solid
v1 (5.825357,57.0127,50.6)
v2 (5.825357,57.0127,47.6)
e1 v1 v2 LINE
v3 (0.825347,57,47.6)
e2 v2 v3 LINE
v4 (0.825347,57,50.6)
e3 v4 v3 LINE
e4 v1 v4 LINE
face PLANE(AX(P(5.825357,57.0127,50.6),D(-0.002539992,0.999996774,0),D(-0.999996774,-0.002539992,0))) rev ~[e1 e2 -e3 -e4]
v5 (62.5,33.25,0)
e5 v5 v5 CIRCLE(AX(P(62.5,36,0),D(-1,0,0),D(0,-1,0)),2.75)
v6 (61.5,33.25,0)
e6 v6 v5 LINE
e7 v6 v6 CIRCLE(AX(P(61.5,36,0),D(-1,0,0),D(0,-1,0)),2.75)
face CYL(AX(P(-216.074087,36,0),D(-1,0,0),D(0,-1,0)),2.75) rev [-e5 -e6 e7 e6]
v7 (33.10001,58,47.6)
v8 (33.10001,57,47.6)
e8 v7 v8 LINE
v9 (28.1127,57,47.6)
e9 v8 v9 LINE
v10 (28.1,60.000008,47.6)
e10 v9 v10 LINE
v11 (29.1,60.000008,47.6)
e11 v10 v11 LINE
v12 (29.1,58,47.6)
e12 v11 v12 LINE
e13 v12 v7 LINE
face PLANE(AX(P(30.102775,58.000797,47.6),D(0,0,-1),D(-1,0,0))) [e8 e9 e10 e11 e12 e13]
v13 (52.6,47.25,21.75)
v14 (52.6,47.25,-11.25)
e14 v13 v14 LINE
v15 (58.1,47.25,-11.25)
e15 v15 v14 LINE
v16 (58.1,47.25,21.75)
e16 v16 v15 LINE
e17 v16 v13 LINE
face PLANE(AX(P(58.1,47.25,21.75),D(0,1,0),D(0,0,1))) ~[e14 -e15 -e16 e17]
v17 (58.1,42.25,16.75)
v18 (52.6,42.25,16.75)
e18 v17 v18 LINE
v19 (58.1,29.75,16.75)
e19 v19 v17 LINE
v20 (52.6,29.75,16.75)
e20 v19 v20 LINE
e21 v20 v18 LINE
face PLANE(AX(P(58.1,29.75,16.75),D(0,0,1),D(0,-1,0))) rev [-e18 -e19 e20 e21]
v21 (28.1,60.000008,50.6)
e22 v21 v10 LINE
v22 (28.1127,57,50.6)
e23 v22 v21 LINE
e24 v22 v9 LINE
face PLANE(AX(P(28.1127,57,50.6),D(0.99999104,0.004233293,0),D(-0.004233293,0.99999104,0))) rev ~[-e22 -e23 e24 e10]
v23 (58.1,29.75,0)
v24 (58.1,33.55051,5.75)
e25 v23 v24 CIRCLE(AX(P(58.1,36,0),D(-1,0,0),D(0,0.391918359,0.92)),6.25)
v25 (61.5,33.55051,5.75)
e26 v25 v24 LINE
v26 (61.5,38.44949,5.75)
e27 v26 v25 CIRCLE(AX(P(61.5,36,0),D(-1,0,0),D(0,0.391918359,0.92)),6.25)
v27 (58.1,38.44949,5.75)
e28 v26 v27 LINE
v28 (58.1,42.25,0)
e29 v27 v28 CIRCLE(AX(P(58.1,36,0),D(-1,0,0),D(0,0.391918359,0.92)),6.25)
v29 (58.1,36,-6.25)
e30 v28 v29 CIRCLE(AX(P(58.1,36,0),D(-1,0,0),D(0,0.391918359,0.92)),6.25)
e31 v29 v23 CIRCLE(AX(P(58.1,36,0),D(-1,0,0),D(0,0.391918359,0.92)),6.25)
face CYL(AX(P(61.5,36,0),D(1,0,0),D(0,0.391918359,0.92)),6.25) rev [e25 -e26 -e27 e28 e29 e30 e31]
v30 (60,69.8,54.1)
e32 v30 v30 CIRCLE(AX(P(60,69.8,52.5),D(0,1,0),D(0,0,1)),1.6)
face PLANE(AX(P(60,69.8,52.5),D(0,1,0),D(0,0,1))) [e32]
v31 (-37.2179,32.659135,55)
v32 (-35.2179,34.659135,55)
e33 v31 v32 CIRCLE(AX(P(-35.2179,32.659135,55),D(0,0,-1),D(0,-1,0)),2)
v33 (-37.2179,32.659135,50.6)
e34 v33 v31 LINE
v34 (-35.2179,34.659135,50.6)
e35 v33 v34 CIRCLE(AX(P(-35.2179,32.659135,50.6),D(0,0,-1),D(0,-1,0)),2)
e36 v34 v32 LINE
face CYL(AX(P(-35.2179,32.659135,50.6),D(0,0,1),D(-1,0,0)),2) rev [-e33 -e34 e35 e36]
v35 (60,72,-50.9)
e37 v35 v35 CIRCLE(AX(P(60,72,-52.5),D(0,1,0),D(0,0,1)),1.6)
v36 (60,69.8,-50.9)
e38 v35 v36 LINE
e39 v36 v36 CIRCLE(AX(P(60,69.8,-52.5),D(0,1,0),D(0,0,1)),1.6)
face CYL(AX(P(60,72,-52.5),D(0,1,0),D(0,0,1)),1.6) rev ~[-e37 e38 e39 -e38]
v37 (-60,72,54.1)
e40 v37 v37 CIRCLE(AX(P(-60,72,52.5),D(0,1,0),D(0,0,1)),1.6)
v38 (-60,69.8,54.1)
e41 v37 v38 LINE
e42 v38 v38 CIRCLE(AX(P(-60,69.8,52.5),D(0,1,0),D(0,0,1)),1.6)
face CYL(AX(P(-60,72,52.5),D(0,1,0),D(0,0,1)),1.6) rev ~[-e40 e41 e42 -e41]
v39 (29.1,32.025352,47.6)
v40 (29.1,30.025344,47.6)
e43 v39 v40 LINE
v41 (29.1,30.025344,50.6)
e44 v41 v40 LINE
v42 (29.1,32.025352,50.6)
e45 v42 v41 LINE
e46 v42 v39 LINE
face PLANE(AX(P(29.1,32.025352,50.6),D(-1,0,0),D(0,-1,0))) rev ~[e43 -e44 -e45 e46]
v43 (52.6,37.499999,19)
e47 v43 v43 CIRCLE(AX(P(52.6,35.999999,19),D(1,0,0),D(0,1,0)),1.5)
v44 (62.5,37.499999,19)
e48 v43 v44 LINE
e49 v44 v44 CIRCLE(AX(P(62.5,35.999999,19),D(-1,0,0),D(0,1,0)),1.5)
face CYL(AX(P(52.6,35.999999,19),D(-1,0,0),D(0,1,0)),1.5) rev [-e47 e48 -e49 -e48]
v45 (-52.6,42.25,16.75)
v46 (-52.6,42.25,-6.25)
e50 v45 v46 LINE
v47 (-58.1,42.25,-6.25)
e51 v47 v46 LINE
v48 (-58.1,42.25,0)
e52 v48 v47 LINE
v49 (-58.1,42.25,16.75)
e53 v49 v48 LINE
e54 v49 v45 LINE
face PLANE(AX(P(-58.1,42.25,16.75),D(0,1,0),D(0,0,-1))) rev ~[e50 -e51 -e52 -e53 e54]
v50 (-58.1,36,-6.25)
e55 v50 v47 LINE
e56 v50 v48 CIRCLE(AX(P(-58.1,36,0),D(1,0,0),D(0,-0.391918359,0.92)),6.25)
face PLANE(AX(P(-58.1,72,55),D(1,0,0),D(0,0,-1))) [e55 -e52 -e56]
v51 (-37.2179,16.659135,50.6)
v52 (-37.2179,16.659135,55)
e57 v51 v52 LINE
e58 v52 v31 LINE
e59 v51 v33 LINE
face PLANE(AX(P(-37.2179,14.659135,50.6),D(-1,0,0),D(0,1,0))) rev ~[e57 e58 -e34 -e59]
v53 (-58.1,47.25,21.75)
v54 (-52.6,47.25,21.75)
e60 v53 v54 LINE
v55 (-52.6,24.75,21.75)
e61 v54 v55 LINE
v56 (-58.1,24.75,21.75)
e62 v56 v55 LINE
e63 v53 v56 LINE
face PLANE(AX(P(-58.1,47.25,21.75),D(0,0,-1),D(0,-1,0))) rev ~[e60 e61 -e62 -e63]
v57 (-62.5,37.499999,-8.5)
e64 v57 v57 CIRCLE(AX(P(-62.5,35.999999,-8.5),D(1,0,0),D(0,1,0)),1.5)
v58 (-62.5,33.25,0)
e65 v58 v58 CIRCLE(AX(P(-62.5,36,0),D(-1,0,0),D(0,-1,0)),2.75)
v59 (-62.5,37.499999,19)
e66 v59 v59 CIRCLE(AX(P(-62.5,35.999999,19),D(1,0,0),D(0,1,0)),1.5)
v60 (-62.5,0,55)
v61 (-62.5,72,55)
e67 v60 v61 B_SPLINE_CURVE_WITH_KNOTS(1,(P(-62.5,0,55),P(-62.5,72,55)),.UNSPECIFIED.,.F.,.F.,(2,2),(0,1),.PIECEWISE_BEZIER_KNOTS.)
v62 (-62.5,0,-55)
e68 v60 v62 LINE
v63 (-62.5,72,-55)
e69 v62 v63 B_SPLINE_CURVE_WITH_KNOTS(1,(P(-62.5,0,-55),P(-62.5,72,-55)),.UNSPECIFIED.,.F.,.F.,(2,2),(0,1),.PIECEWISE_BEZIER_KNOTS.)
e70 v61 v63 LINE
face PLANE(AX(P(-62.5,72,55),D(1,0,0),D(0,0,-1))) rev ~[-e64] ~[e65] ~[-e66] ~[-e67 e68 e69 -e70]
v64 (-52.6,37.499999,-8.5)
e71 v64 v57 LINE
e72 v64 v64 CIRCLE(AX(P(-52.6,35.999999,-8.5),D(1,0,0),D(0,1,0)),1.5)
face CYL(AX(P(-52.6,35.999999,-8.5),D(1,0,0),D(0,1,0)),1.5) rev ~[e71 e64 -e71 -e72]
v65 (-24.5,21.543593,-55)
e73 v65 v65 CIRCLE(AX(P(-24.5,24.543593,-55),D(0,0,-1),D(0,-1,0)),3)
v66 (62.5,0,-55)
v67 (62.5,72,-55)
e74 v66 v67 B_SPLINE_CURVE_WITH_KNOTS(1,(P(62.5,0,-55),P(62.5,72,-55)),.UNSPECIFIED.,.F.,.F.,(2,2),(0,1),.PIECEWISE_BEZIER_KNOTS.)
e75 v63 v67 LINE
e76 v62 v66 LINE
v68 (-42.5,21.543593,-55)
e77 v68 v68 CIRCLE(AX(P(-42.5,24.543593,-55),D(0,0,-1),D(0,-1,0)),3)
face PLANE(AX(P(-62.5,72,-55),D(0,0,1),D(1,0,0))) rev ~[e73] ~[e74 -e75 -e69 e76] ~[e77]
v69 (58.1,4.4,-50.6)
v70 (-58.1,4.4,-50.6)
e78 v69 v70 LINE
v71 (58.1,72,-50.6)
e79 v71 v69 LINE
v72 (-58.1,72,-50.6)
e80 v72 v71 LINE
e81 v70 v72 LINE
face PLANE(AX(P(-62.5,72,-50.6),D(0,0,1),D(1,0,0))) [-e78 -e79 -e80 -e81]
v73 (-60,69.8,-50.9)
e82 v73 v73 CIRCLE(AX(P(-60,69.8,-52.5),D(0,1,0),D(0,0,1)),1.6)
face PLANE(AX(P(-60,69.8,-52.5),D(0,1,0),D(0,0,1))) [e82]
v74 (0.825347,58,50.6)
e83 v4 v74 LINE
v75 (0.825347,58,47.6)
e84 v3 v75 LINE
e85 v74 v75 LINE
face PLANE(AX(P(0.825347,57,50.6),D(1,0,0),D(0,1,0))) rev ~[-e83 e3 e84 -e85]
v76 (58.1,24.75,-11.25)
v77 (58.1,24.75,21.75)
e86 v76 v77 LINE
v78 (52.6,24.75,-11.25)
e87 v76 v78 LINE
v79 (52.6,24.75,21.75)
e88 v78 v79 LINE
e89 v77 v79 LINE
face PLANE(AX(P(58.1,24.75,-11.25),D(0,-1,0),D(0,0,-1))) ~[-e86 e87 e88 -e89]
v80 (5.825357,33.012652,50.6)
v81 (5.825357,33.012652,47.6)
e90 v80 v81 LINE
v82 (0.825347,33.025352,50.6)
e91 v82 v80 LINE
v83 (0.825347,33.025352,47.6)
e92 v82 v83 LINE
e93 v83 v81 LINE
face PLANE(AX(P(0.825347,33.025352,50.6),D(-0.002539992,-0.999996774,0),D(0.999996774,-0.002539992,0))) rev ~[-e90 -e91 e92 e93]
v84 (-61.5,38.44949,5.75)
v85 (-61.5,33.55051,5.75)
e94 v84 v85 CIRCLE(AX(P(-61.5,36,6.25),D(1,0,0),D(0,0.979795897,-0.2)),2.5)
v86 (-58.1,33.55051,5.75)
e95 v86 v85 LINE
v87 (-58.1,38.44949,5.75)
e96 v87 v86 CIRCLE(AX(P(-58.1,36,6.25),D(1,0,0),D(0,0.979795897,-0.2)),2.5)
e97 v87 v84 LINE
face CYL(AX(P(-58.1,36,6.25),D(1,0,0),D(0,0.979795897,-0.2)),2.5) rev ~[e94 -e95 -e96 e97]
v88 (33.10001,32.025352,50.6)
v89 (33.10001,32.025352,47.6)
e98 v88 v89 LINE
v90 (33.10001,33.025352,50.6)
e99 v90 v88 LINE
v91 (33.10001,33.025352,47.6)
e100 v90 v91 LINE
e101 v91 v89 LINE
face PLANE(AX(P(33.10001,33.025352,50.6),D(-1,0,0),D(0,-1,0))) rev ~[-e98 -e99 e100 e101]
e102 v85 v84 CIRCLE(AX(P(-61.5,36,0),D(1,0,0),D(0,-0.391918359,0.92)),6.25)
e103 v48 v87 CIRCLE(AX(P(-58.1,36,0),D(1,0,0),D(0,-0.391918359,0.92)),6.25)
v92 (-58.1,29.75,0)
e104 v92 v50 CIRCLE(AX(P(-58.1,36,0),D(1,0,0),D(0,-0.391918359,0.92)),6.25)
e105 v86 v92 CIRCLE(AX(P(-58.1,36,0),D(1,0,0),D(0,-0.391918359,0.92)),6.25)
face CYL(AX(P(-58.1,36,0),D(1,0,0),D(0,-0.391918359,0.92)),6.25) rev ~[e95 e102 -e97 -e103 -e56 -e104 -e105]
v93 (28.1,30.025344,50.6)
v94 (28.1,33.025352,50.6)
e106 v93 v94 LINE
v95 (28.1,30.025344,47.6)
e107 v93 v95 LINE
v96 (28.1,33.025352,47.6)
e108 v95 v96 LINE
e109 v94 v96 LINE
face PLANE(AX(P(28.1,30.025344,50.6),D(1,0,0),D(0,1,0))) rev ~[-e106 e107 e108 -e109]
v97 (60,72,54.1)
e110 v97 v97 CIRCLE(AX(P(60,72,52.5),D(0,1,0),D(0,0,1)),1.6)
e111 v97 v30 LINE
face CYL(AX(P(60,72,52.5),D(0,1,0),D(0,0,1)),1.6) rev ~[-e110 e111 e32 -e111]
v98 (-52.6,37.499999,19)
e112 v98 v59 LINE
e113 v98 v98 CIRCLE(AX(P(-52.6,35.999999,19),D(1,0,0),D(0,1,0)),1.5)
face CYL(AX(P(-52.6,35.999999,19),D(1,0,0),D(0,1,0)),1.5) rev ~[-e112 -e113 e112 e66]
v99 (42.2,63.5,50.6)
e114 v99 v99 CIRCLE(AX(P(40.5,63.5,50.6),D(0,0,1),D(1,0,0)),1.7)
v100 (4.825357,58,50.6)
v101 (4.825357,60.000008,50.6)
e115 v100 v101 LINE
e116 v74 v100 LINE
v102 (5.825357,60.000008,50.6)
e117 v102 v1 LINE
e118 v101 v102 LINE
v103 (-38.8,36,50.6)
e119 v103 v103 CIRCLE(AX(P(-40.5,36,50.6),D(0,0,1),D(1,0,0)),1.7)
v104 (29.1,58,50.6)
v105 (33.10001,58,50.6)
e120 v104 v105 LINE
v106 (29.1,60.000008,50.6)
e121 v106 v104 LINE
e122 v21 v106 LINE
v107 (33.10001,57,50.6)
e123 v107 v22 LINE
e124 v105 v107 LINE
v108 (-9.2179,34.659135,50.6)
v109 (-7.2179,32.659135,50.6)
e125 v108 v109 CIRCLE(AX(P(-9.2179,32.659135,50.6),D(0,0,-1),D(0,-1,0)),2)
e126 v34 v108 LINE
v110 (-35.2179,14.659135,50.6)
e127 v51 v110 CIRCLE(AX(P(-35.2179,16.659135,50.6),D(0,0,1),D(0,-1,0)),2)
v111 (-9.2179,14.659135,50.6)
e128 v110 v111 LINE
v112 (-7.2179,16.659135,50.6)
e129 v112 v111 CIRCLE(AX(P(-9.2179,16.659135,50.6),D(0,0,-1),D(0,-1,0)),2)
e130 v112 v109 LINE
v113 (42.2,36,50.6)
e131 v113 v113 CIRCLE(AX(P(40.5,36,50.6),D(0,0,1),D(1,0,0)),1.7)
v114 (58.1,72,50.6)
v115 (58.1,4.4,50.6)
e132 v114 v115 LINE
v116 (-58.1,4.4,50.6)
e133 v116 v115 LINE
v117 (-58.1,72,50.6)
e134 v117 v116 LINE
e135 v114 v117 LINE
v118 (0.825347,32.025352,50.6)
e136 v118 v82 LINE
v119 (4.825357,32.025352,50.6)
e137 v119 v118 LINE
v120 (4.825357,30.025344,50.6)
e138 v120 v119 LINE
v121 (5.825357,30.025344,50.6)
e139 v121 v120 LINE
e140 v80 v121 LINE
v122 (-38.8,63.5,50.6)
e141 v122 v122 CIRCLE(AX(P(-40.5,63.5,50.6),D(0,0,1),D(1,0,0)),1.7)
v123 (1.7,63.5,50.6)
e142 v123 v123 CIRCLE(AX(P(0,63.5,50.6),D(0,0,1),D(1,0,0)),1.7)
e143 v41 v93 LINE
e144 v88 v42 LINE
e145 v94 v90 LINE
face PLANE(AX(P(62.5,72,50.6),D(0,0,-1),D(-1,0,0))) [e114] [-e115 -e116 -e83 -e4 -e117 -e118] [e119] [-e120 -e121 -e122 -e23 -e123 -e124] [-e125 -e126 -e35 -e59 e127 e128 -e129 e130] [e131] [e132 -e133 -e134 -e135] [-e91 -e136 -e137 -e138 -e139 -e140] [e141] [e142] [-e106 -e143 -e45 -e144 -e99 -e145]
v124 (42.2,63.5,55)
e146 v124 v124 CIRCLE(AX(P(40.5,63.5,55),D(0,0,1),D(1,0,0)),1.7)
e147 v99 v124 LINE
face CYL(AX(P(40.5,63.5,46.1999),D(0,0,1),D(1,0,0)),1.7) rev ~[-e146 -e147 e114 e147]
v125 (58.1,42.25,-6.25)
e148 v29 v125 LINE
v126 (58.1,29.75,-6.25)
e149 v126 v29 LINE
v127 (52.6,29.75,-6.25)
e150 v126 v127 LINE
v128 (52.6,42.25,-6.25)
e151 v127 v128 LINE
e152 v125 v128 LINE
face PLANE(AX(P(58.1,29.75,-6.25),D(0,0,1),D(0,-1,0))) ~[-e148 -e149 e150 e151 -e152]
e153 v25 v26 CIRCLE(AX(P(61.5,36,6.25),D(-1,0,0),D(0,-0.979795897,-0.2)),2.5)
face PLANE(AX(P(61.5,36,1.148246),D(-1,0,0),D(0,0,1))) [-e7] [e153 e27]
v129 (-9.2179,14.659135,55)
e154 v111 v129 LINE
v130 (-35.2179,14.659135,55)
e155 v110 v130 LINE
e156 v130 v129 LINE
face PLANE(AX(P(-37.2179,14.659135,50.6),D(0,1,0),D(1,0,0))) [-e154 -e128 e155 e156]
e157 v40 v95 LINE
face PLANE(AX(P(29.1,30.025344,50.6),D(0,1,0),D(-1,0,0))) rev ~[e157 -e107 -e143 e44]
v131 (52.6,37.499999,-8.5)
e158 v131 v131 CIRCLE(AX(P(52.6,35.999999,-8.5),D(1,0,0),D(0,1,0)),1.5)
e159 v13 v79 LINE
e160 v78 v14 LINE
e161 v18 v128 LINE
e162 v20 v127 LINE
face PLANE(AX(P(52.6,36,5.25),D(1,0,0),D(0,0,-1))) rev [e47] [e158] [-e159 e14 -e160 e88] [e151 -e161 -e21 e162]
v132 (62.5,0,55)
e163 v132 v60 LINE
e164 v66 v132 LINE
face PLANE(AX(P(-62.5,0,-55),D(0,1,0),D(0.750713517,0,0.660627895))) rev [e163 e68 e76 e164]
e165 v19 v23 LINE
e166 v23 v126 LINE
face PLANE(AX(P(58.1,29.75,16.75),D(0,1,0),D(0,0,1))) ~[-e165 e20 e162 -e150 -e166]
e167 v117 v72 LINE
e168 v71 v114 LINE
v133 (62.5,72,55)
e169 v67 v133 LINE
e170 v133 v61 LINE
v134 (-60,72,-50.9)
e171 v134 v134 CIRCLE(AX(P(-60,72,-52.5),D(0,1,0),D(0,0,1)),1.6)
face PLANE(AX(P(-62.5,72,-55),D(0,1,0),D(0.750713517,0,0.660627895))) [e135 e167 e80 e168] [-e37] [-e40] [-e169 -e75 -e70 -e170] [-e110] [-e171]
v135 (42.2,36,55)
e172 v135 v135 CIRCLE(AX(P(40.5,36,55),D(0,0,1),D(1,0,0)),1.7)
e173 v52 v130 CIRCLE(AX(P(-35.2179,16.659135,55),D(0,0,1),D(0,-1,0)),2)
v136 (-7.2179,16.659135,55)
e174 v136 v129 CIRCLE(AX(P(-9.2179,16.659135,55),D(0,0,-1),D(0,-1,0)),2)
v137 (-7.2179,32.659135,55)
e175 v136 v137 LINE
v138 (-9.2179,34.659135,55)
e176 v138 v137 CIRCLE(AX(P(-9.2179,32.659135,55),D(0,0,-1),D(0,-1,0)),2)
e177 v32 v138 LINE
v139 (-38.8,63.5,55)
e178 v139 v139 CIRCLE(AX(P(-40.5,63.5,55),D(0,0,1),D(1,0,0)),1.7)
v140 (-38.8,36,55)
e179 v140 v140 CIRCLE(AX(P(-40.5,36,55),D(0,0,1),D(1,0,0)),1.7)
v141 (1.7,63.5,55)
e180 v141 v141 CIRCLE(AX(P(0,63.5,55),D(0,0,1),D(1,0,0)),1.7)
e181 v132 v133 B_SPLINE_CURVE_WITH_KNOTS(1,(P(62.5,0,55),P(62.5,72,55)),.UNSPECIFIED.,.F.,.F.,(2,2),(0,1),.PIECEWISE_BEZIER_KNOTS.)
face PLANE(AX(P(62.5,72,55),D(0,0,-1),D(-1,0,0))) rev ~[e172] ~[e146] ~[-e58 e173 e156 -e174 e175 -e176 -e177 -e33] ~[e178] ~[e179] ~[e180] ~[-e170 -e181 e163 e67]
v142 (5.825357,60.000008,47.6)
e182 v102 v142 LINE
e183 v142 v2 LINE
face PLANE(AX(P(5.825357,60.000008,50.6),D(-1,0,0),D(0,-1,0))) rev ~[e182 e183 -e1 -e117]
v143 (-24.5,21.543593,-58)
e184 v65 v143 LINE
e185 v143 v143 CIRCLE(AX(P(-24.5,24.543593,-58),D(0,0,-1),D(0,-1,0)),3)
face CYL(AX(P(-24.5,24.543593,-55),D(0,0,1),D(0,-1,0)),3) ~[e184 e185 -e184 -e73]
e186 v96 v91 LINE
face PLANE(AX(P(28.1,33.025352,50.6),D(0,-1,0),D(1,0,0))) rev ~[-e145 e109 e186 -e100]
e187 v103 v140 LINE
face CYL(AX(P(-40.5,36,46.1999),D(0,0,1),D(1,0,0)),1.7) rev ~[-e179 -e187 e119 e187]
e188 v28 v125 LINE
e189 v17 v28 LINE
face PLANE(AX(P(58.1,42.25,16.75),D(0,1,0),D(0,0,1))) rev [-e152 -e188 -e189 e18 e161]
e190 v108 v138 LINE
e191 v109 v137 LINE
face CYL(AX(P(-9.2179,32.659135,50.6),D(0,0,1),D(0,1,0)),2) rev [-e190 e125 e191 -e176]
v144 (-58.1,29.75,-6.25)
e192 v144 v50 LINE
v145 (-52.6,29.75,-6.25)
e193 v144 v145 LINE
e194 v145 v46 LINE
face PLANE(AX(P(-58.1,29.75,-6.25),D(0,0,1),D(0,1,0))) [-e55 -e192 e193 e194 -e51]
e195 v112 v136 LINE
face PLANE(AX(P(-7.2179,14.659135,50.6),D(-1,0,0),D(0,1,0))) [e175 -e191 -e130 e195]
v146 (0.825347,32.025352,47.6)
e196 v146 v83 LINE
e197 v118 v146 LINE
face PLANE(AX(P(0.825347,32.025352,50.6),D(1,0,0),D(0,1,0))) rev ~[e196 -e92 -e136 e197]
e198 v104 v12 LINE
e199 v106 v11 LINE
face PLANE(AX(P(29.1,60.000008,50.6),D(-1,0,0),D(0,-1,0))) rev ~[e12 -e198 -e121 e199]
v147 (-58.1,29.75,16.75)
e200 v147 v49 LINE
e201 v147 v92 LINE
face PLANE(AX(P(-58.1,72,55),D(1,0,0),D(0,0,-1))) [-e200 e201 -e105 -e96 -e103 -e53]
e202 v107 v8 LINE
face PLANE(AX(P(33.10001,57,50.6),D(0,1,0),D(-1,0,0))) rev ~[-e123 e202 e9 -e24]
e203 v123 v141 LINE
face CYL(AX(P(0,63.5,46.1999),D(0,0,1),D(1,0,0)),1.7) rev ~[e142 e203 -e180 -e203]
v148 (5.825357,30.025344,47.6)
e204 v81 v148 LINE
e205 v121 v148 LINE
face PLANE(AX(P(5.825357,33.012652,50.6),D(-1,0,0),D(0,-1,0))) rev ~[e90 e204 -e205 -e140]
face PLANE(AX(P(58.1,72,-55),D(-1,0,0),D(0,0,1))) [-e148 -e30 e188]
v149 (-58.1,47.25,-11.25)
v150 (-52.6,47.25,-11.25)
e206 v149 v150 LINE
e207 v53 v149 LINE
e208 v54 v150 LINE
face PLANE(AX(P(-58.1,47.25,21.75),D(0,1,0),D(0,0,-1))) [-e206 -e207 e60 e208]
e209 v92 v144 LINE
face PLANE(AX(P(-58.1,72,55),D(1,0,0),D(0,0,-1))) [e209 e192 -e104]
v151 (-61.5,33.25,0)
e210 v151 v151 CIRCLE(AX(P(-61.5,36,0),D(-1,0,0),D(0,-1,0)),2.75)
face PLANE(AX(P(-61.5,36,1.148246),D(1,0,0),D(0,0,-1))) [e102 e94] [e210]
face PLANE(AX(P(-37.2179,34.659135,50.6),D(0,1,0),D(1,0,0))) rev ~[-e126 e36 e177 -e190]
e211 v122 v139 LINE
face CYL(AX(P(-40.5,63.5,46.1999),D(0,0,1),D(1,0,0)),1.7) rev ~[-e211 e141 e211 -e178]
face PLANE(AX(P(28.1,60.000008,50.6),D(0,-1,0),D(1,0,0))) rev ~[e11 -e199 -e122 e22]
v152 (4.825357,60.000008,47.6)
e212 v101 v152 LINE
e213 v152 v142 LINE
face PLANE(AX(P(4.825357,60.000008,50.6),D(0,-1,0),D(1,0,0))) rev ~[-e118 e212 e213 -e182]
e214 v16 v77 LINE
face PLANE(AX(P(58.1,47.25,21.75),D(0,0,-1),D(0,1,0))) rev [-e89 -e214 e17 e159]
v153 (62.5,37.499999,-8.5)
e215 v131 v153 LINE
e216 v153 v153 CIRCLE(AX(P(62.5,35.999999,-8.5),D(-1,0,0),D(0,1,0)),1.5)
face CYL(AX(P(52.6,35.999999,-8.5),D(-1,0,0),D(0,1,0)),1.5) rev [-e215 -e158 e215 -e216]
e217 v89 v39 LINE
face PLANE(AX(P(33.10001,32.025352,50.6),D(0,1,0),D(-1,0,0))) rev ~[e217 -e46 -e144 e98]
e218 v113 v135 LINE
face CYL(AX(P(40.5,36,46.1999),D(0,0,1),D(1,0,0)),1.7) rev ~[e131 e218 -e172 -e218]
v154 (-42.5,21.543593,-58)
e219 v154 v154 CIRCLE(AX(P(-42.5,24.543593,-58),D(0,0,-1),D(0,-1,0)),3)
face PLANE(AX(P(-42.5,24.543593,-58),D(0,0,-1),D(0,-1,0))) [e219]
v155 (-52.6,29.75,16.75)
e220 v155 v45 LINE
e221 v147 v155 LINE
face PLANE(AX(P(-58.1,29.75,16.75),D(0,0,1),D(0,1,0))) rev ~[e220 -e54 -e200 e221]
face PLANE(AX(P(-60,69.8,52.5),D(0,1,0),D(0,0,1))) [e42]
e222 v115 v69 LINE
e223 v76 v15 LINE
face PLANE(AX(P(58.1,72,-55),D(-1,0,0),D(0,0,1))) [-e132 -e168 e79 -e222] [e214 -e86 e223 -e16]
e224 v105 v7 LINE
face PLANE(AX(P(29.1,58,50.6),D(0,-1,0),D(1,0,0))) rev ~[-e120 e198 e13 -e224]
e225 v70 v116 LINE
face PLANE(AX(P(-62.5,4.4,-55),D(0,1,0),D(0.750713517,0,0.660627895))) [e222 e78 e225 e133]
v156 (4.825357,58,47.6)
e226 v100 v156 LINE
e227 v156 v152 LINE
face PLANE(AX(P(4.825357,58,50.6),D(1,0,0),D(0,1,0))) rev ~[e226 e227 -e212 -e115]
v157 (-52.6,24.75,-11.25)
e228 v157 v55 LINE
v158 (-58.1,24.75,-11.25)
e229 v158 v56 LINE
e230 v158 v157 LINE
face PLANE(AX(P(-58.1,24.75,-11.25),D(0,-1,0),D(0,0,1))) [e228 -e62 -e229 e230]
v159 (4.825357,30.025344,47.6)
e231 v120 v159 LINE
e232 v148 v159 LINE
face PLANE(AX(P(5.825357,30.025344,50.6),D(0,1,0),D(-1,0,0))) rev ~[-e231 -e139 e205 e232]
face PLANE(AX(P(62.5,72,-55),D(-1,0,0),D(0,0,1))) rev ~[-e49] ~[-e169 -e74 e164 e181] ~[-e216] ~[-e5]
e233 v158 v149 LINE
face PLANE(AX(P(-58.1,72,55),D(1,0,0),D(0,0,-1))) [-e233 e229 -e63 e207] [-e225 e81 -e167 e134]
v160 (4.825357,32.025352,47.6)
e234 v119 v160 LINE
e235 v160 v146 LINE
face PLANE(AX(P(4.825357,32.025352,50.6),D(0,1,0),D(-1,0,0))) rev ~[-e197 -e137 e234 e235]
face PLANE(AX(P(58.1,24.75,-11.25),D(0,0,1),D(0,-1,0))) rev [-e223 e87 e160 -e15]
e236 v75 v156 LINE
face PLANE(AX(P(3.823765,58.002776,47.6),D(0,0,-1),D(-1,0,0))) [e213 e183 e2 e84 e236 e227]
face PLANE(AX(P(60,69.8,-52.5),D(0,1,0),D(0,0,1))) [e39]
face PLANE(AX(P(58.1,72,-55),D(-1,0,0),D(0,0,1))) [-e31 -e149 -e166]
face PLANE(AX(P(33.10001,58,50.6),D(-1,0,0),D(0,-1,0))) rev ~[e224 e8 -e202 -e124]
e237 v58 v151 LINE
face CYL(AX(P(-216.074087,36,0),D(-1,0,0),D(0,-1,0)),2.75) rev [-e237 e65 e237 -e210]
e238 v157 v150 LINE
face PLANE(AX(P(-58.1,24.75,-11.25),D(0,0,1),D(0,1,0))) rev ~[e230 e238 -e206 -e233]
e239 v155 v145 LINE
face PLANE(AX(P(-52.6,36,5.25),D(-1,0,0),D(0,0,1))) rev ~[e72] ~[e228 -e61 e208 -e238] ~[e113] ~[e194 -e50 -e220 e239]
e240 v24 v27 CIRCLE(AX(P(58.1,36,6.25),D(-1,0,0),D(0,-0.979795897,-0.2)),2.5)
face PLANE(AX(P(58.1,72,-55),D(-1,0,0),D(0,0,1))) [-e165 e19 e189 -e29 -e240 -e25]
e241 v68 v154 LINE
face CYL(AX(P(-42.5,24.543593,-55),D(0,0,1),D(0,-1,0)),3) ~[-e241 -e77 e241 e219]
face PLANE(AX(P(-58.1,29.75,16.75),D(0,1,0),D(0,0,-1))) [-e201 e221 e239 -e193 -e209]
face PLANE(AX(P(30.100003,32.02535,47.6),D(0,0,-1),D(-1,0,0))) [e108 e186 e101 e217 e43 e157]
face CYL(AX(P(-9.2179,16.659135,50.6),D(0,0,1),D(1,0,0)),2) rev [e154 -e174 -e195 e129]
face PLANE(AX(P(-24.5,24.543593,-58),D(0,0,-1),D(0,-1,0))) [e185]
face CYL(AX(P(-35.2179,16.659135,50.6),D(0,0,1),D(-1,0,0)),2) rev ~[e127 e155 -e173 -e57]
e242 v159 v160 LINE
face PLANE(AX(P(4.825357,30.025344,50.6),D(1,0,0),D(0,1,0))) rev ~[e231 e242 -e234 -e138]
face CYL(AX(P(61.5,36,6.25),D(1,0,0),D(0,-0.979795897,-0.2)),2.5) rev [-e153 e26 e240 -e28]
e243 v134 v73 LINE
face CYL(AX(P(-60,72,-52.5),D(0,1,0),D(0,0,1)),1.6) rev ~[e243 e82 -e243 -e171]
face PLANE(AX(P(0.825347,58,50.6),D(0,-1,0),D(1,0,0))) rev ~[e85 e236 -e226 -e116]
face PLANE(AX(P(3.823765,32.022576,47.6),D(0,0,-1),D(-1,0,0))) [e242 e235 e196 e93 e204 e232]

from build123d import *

# Parameters (mm, degrees)
SHELL_1_T                = -4.4
SKETCH_4_W               = 30
SKETCH_4_H               = 20
CUT_EXTRUDE_2_DEPTH      = 143.273012367
FILLET_1_R               = 2
SKETCH_6_W               = 23
SKETCH_6_H               = 12.5
EXTRUDE_1_DEPTH          = 5.5
SKETCH_7_R               = 1.5
CUT_EXTRUDE_3_DEPTH      = 147.482115115
SKETCH_8_R               = 1.6
CUT_EXTRUDE_4_DEPTH      = 2.2
CUT_EXTRUDE_1_DEPTH      = 3.4
CUT_EXTRUDE_START        = -3.4
CUT_EXTRUDE_5_DEPTH      = 3.4
CUT_EXTRUDE_6_DEPTH      = 154.574086519
CUT_EXTRUDE_6_DEPTH_BACK = 154.574086519
SKETCH_10_R              = 2.75
SKETCH_11_R              = 3
EXTRUDE_2_DEPTH          = 3
HOLE_WIZARD_M3_1_D       = 3.4
HOLE_WIZARD_M3_1_DEPTH   = 4.4001
EXTRUDE_3_DEPTH          = 3


with BuildPart() as part:
    # 草图1 → 放样1 section 0
    with BuildSketch(Plane(origin=(0, 0, 0), x_dir=(1, 0, 0), z_dir=(0, 1, 0))):
        with BuildLine():
            Line((-62.5, 55), (62.5, 55))
            Line((62.5, 55), (62.5, -55))
            Line((62.5, -55), (-62.5, -55))
            Line((-62.5, -55), (-62.5, 55))
        make_face()
    # 草图2 → 放样1 section 1
    with BuildSketch(Plane(origin=(0, 72, 0), x_dir=(1, 0, 0), z_dir=(0, 1, 0))):
        with BuildLine():
            Line((-62.5, 55), (62.5, 55))
            Line((62.5, 55), (62.5, -55))
            Line((62.5, -55), (-62.5, -55))
            Line((-62.5, -55), (-62.5, 55))
        make_face()
    loft()

    # 抽壳1
    shell_1_openings = [part.faces().sort_by_distance(p)[0] for p in [
        (0, 72, 0),
    ]]
    offset(amount=SHELL_1_T, openings=shell_1_openings, kind=Kind.INTERSECTION)

    # 草图4 → 切除-拉伸2 (cut, through all)
    with BuildSketch(Plane.XY.offset(50.6)):
        with Locations((-22.217899847, 24.659135412)):
            Rectangle(SKETCH_4_W, SKETCH_4_H)
    extrude(amount=CUT_EXTRUDE_2_DEPTH, mode=Mode.SUBTRACT)

    # 圆角1
    fillet_1_edges = [part.edges().sort_by_distance(p)[0] for p in [
        (-7.217899847, 14.659135412, 52.8),
        (-7.217899847, 34.659135412, 52.8),
        (-37.217899847, 34.659135412, 52.8),
        (-37.217899847, 14.659135412, 52.8),
    ]]
    fillet(fillet_1_edges, radius=FILLET_1_R)

    # 草图6 → 凸台-拉伸1 (add)
    with BuildSketch(Plane(origin=(-58.1, 0, 0), x_dir=(0, 0, -1), z_dir=(1, 0, 0))):
        Polygon((-21.75, 42.25), (-21.75, 47.25), (11.25, 47.25), (11.25, 42.25), (11.25, 29.74999898), (11.25, 24.75), (-21.75, 24.75), (-21.75, 29.74999898), align=None)
        with Locations((-5.25, 36)):
            Rectangle(SKETCH_6_W, SKETCH_6_H, mode=Mode.SUBTRACT)
    extrude_1 = extrude(amount=EXTRUDE_1_DEPTH)

    # 草图7 → 切除-拉伸3 (cut, through all)
    with BuildSketch(Plane(origin=(-52.6, 0, 0), x_dir=(0, 0, -1), z_dir=(1, 0, 0))):
        with Locations(Location((-19, 35.99999884, 0), (0, 0, 90))):
            Circle(SKETCH_7_R)
        with Locations(Location((8.5, 35.99999884, 0), (0, 0, 90))):
            Circle(SKETCH_7_R)
    cut_extrude_3 = extrude(amount=-CUT_EXTRUDE_3_DEPTH, mode=Mode.SUBTRACT)

    # 镜向1: 凸台-拉伸1, 切除-拉伸3 across plane
    add(extrude_1.mirror(Plane(origin=(0, 0, 0), x_dir=(0, 0, 1), z_dir=(1, 0, 0))))
    add(cut_extrude_3.mirror(Plane(origin=(0, 0, 0), x_dir=(0, 0, 1), z_dir=(1, 0, 0))), mode=Mode.SUBTRACT)

    # 草图8 → 切除-拉伸4 (cut)
    with BuildSketch(Plane(origin=(0, 72, 0), x_dir=(1, 0, 0), z_dir=(0, 1, 0))):
        with Locations(Location((-60, 52.5, 0), (0, 0, 270))):
            Circle(SKETCH_8_R)
        with Locations(Location((-60, -52.5, 0), (0, 0, 270))):
            Circle(SKETCH_8_R)
        with Locations(Location((60, -52.5, 0), (0, 0, 270))):
            Circle(SKETCH_8_R)
        with Locations(Location((60, 52.5, 0), (0, 0, 270))):
            Circle(SKETCH_8_R)
    extrude(amount=-CUT_EXTRUDE_4_DEPTH, mode=Mode.SUBTRACT)

    # 草图3 → 切除-拉伸1 (cut)
    with BuildSketch(Plane(origin=(-58.1, 0, 0), x_dir=(0, 0, -1), z_dir=(1, 0, 0))):
        with BuildLine():
            ThreePointArc((-5.75, 38.449489743), (-8.75, 36), (-5.75, 33.550510257))
            ThreePointArc((-5.75, 33.550510257), (6.25, 36), (-5.75, 38.449489743))
        make_face()
    extrude(amount=-CUT_EXTRUDE_1_DEPTH, mode=Mode.SUBTRACT)

    # 草图9 → 切除-拉伸5 (cut)
    with BuildSketch(Plane.ZY.offset(-58.1).offset(CUT_EXTRUDE_START)):
        with BuildLine():
            ThreePointArc((5.75, 38.449489743), (-6.25, 36), (5.75, 33.550510257))
            ThreePointArc((5.75, 33.550510257), (8.75, 36), (5.75, 38.449489743))
        make_face()
    extrude(amount=CUT_EXTRUDE_5_DEPTH, mode=Mode.SUBTRACT)

    # 草图10 → 切除-拉伸6 (cut, two sides: drawn at the far end of the back side and taken through both)
    with BuildSketch(Plane(origin=(-61.5, 0, 0), x_dir=(0, 0, -1), z_dir=(1, 0, 0)).offset(-CUT_EXTRUDE_6_DEPTH_BACK)):
        with Locations(Location((0, 36, 0), (0, 0, 270))):
            Circle(SKETCH_10_R)
    extrude(amount=CUT_EXTRUDE_6_DEPTH + CUT_EXTRUDE_6_DEPTH_BACK, mode=Mode.SUBTRACT)

    # 草图11 → 凸台-拉伸2 (add)
    with BuildSketch(Plane(origin=(0, 0, -55), x_dir=(-1, 0, 0), z_dir=(0, 0, -1))):
        with Locations(Location((42.5, 24.543593294, 0), (0, 0, 270))):
            Circle(SKETCH_11_R)
        with Locations(Location((24.5, 24.543593294, 0), (0, 0, 270))):
            Circle(SKETCH_11_R)
    extrude(amount=EXTRUDE_2_DEPTH)

    # M3 间隙孔1
    with Locations(Plane(origin=(0, 0, 50.6), x_dir=(-1, 0, 0), z_dir=(0, 0, -1))):
        with Locations((-40.5, 63.5), (0, 63.5), (40.5, 63.5), (40.5, 36), (-40.5, 36)):
            Hole(HOLE_WIZARD_M3_1_D / 2, depth=HOLE_WIZARD_M3_1_DEPTH)

    # 草图15 → 凸台-拉伸3 (add)
    with BuildSketch(Plane(origin=(0, 0, 50.6), x_dir=(-1, 0, 0), z_dir=(0, 0, -1))):
        Polygon((-29.1, 60.00000762), (-29.1, 58), (-33.10001016, 58), (-33.10001016, 57), (-28.112700025, 57), (-28.1, 60.00000762), align=None)
        Polygon((-4.825356871, 58), (-4.825356871, 60.00000762), (-5.825356871, 60.00000762), (-5.825356871, 57.012700025), (-0.825346711, 57), (-0.825346711, 58), align=None)
        Polygon((-4.825356871, 32.025351791), (-0.825346711, 32.025351791), (-0.825346711, 33.025351791), (-5.825356871, 33.012651765), (-5.825356871, 30.025344171), (-4.825356871, 30.025344171), align=None)
        Polygon((-29.1, 32.025351791), (-29.1, 30.025344171), (-28.1, 30.025344171), (-28.1, 33.012651765), (-28.1, 33.025351791), (-33.10001016, 33.025351791), (-33.10001016, 32.025351791), align=None)
    extrude(amount=EXTRUDE_3_DEPTH)


solid = part.part
